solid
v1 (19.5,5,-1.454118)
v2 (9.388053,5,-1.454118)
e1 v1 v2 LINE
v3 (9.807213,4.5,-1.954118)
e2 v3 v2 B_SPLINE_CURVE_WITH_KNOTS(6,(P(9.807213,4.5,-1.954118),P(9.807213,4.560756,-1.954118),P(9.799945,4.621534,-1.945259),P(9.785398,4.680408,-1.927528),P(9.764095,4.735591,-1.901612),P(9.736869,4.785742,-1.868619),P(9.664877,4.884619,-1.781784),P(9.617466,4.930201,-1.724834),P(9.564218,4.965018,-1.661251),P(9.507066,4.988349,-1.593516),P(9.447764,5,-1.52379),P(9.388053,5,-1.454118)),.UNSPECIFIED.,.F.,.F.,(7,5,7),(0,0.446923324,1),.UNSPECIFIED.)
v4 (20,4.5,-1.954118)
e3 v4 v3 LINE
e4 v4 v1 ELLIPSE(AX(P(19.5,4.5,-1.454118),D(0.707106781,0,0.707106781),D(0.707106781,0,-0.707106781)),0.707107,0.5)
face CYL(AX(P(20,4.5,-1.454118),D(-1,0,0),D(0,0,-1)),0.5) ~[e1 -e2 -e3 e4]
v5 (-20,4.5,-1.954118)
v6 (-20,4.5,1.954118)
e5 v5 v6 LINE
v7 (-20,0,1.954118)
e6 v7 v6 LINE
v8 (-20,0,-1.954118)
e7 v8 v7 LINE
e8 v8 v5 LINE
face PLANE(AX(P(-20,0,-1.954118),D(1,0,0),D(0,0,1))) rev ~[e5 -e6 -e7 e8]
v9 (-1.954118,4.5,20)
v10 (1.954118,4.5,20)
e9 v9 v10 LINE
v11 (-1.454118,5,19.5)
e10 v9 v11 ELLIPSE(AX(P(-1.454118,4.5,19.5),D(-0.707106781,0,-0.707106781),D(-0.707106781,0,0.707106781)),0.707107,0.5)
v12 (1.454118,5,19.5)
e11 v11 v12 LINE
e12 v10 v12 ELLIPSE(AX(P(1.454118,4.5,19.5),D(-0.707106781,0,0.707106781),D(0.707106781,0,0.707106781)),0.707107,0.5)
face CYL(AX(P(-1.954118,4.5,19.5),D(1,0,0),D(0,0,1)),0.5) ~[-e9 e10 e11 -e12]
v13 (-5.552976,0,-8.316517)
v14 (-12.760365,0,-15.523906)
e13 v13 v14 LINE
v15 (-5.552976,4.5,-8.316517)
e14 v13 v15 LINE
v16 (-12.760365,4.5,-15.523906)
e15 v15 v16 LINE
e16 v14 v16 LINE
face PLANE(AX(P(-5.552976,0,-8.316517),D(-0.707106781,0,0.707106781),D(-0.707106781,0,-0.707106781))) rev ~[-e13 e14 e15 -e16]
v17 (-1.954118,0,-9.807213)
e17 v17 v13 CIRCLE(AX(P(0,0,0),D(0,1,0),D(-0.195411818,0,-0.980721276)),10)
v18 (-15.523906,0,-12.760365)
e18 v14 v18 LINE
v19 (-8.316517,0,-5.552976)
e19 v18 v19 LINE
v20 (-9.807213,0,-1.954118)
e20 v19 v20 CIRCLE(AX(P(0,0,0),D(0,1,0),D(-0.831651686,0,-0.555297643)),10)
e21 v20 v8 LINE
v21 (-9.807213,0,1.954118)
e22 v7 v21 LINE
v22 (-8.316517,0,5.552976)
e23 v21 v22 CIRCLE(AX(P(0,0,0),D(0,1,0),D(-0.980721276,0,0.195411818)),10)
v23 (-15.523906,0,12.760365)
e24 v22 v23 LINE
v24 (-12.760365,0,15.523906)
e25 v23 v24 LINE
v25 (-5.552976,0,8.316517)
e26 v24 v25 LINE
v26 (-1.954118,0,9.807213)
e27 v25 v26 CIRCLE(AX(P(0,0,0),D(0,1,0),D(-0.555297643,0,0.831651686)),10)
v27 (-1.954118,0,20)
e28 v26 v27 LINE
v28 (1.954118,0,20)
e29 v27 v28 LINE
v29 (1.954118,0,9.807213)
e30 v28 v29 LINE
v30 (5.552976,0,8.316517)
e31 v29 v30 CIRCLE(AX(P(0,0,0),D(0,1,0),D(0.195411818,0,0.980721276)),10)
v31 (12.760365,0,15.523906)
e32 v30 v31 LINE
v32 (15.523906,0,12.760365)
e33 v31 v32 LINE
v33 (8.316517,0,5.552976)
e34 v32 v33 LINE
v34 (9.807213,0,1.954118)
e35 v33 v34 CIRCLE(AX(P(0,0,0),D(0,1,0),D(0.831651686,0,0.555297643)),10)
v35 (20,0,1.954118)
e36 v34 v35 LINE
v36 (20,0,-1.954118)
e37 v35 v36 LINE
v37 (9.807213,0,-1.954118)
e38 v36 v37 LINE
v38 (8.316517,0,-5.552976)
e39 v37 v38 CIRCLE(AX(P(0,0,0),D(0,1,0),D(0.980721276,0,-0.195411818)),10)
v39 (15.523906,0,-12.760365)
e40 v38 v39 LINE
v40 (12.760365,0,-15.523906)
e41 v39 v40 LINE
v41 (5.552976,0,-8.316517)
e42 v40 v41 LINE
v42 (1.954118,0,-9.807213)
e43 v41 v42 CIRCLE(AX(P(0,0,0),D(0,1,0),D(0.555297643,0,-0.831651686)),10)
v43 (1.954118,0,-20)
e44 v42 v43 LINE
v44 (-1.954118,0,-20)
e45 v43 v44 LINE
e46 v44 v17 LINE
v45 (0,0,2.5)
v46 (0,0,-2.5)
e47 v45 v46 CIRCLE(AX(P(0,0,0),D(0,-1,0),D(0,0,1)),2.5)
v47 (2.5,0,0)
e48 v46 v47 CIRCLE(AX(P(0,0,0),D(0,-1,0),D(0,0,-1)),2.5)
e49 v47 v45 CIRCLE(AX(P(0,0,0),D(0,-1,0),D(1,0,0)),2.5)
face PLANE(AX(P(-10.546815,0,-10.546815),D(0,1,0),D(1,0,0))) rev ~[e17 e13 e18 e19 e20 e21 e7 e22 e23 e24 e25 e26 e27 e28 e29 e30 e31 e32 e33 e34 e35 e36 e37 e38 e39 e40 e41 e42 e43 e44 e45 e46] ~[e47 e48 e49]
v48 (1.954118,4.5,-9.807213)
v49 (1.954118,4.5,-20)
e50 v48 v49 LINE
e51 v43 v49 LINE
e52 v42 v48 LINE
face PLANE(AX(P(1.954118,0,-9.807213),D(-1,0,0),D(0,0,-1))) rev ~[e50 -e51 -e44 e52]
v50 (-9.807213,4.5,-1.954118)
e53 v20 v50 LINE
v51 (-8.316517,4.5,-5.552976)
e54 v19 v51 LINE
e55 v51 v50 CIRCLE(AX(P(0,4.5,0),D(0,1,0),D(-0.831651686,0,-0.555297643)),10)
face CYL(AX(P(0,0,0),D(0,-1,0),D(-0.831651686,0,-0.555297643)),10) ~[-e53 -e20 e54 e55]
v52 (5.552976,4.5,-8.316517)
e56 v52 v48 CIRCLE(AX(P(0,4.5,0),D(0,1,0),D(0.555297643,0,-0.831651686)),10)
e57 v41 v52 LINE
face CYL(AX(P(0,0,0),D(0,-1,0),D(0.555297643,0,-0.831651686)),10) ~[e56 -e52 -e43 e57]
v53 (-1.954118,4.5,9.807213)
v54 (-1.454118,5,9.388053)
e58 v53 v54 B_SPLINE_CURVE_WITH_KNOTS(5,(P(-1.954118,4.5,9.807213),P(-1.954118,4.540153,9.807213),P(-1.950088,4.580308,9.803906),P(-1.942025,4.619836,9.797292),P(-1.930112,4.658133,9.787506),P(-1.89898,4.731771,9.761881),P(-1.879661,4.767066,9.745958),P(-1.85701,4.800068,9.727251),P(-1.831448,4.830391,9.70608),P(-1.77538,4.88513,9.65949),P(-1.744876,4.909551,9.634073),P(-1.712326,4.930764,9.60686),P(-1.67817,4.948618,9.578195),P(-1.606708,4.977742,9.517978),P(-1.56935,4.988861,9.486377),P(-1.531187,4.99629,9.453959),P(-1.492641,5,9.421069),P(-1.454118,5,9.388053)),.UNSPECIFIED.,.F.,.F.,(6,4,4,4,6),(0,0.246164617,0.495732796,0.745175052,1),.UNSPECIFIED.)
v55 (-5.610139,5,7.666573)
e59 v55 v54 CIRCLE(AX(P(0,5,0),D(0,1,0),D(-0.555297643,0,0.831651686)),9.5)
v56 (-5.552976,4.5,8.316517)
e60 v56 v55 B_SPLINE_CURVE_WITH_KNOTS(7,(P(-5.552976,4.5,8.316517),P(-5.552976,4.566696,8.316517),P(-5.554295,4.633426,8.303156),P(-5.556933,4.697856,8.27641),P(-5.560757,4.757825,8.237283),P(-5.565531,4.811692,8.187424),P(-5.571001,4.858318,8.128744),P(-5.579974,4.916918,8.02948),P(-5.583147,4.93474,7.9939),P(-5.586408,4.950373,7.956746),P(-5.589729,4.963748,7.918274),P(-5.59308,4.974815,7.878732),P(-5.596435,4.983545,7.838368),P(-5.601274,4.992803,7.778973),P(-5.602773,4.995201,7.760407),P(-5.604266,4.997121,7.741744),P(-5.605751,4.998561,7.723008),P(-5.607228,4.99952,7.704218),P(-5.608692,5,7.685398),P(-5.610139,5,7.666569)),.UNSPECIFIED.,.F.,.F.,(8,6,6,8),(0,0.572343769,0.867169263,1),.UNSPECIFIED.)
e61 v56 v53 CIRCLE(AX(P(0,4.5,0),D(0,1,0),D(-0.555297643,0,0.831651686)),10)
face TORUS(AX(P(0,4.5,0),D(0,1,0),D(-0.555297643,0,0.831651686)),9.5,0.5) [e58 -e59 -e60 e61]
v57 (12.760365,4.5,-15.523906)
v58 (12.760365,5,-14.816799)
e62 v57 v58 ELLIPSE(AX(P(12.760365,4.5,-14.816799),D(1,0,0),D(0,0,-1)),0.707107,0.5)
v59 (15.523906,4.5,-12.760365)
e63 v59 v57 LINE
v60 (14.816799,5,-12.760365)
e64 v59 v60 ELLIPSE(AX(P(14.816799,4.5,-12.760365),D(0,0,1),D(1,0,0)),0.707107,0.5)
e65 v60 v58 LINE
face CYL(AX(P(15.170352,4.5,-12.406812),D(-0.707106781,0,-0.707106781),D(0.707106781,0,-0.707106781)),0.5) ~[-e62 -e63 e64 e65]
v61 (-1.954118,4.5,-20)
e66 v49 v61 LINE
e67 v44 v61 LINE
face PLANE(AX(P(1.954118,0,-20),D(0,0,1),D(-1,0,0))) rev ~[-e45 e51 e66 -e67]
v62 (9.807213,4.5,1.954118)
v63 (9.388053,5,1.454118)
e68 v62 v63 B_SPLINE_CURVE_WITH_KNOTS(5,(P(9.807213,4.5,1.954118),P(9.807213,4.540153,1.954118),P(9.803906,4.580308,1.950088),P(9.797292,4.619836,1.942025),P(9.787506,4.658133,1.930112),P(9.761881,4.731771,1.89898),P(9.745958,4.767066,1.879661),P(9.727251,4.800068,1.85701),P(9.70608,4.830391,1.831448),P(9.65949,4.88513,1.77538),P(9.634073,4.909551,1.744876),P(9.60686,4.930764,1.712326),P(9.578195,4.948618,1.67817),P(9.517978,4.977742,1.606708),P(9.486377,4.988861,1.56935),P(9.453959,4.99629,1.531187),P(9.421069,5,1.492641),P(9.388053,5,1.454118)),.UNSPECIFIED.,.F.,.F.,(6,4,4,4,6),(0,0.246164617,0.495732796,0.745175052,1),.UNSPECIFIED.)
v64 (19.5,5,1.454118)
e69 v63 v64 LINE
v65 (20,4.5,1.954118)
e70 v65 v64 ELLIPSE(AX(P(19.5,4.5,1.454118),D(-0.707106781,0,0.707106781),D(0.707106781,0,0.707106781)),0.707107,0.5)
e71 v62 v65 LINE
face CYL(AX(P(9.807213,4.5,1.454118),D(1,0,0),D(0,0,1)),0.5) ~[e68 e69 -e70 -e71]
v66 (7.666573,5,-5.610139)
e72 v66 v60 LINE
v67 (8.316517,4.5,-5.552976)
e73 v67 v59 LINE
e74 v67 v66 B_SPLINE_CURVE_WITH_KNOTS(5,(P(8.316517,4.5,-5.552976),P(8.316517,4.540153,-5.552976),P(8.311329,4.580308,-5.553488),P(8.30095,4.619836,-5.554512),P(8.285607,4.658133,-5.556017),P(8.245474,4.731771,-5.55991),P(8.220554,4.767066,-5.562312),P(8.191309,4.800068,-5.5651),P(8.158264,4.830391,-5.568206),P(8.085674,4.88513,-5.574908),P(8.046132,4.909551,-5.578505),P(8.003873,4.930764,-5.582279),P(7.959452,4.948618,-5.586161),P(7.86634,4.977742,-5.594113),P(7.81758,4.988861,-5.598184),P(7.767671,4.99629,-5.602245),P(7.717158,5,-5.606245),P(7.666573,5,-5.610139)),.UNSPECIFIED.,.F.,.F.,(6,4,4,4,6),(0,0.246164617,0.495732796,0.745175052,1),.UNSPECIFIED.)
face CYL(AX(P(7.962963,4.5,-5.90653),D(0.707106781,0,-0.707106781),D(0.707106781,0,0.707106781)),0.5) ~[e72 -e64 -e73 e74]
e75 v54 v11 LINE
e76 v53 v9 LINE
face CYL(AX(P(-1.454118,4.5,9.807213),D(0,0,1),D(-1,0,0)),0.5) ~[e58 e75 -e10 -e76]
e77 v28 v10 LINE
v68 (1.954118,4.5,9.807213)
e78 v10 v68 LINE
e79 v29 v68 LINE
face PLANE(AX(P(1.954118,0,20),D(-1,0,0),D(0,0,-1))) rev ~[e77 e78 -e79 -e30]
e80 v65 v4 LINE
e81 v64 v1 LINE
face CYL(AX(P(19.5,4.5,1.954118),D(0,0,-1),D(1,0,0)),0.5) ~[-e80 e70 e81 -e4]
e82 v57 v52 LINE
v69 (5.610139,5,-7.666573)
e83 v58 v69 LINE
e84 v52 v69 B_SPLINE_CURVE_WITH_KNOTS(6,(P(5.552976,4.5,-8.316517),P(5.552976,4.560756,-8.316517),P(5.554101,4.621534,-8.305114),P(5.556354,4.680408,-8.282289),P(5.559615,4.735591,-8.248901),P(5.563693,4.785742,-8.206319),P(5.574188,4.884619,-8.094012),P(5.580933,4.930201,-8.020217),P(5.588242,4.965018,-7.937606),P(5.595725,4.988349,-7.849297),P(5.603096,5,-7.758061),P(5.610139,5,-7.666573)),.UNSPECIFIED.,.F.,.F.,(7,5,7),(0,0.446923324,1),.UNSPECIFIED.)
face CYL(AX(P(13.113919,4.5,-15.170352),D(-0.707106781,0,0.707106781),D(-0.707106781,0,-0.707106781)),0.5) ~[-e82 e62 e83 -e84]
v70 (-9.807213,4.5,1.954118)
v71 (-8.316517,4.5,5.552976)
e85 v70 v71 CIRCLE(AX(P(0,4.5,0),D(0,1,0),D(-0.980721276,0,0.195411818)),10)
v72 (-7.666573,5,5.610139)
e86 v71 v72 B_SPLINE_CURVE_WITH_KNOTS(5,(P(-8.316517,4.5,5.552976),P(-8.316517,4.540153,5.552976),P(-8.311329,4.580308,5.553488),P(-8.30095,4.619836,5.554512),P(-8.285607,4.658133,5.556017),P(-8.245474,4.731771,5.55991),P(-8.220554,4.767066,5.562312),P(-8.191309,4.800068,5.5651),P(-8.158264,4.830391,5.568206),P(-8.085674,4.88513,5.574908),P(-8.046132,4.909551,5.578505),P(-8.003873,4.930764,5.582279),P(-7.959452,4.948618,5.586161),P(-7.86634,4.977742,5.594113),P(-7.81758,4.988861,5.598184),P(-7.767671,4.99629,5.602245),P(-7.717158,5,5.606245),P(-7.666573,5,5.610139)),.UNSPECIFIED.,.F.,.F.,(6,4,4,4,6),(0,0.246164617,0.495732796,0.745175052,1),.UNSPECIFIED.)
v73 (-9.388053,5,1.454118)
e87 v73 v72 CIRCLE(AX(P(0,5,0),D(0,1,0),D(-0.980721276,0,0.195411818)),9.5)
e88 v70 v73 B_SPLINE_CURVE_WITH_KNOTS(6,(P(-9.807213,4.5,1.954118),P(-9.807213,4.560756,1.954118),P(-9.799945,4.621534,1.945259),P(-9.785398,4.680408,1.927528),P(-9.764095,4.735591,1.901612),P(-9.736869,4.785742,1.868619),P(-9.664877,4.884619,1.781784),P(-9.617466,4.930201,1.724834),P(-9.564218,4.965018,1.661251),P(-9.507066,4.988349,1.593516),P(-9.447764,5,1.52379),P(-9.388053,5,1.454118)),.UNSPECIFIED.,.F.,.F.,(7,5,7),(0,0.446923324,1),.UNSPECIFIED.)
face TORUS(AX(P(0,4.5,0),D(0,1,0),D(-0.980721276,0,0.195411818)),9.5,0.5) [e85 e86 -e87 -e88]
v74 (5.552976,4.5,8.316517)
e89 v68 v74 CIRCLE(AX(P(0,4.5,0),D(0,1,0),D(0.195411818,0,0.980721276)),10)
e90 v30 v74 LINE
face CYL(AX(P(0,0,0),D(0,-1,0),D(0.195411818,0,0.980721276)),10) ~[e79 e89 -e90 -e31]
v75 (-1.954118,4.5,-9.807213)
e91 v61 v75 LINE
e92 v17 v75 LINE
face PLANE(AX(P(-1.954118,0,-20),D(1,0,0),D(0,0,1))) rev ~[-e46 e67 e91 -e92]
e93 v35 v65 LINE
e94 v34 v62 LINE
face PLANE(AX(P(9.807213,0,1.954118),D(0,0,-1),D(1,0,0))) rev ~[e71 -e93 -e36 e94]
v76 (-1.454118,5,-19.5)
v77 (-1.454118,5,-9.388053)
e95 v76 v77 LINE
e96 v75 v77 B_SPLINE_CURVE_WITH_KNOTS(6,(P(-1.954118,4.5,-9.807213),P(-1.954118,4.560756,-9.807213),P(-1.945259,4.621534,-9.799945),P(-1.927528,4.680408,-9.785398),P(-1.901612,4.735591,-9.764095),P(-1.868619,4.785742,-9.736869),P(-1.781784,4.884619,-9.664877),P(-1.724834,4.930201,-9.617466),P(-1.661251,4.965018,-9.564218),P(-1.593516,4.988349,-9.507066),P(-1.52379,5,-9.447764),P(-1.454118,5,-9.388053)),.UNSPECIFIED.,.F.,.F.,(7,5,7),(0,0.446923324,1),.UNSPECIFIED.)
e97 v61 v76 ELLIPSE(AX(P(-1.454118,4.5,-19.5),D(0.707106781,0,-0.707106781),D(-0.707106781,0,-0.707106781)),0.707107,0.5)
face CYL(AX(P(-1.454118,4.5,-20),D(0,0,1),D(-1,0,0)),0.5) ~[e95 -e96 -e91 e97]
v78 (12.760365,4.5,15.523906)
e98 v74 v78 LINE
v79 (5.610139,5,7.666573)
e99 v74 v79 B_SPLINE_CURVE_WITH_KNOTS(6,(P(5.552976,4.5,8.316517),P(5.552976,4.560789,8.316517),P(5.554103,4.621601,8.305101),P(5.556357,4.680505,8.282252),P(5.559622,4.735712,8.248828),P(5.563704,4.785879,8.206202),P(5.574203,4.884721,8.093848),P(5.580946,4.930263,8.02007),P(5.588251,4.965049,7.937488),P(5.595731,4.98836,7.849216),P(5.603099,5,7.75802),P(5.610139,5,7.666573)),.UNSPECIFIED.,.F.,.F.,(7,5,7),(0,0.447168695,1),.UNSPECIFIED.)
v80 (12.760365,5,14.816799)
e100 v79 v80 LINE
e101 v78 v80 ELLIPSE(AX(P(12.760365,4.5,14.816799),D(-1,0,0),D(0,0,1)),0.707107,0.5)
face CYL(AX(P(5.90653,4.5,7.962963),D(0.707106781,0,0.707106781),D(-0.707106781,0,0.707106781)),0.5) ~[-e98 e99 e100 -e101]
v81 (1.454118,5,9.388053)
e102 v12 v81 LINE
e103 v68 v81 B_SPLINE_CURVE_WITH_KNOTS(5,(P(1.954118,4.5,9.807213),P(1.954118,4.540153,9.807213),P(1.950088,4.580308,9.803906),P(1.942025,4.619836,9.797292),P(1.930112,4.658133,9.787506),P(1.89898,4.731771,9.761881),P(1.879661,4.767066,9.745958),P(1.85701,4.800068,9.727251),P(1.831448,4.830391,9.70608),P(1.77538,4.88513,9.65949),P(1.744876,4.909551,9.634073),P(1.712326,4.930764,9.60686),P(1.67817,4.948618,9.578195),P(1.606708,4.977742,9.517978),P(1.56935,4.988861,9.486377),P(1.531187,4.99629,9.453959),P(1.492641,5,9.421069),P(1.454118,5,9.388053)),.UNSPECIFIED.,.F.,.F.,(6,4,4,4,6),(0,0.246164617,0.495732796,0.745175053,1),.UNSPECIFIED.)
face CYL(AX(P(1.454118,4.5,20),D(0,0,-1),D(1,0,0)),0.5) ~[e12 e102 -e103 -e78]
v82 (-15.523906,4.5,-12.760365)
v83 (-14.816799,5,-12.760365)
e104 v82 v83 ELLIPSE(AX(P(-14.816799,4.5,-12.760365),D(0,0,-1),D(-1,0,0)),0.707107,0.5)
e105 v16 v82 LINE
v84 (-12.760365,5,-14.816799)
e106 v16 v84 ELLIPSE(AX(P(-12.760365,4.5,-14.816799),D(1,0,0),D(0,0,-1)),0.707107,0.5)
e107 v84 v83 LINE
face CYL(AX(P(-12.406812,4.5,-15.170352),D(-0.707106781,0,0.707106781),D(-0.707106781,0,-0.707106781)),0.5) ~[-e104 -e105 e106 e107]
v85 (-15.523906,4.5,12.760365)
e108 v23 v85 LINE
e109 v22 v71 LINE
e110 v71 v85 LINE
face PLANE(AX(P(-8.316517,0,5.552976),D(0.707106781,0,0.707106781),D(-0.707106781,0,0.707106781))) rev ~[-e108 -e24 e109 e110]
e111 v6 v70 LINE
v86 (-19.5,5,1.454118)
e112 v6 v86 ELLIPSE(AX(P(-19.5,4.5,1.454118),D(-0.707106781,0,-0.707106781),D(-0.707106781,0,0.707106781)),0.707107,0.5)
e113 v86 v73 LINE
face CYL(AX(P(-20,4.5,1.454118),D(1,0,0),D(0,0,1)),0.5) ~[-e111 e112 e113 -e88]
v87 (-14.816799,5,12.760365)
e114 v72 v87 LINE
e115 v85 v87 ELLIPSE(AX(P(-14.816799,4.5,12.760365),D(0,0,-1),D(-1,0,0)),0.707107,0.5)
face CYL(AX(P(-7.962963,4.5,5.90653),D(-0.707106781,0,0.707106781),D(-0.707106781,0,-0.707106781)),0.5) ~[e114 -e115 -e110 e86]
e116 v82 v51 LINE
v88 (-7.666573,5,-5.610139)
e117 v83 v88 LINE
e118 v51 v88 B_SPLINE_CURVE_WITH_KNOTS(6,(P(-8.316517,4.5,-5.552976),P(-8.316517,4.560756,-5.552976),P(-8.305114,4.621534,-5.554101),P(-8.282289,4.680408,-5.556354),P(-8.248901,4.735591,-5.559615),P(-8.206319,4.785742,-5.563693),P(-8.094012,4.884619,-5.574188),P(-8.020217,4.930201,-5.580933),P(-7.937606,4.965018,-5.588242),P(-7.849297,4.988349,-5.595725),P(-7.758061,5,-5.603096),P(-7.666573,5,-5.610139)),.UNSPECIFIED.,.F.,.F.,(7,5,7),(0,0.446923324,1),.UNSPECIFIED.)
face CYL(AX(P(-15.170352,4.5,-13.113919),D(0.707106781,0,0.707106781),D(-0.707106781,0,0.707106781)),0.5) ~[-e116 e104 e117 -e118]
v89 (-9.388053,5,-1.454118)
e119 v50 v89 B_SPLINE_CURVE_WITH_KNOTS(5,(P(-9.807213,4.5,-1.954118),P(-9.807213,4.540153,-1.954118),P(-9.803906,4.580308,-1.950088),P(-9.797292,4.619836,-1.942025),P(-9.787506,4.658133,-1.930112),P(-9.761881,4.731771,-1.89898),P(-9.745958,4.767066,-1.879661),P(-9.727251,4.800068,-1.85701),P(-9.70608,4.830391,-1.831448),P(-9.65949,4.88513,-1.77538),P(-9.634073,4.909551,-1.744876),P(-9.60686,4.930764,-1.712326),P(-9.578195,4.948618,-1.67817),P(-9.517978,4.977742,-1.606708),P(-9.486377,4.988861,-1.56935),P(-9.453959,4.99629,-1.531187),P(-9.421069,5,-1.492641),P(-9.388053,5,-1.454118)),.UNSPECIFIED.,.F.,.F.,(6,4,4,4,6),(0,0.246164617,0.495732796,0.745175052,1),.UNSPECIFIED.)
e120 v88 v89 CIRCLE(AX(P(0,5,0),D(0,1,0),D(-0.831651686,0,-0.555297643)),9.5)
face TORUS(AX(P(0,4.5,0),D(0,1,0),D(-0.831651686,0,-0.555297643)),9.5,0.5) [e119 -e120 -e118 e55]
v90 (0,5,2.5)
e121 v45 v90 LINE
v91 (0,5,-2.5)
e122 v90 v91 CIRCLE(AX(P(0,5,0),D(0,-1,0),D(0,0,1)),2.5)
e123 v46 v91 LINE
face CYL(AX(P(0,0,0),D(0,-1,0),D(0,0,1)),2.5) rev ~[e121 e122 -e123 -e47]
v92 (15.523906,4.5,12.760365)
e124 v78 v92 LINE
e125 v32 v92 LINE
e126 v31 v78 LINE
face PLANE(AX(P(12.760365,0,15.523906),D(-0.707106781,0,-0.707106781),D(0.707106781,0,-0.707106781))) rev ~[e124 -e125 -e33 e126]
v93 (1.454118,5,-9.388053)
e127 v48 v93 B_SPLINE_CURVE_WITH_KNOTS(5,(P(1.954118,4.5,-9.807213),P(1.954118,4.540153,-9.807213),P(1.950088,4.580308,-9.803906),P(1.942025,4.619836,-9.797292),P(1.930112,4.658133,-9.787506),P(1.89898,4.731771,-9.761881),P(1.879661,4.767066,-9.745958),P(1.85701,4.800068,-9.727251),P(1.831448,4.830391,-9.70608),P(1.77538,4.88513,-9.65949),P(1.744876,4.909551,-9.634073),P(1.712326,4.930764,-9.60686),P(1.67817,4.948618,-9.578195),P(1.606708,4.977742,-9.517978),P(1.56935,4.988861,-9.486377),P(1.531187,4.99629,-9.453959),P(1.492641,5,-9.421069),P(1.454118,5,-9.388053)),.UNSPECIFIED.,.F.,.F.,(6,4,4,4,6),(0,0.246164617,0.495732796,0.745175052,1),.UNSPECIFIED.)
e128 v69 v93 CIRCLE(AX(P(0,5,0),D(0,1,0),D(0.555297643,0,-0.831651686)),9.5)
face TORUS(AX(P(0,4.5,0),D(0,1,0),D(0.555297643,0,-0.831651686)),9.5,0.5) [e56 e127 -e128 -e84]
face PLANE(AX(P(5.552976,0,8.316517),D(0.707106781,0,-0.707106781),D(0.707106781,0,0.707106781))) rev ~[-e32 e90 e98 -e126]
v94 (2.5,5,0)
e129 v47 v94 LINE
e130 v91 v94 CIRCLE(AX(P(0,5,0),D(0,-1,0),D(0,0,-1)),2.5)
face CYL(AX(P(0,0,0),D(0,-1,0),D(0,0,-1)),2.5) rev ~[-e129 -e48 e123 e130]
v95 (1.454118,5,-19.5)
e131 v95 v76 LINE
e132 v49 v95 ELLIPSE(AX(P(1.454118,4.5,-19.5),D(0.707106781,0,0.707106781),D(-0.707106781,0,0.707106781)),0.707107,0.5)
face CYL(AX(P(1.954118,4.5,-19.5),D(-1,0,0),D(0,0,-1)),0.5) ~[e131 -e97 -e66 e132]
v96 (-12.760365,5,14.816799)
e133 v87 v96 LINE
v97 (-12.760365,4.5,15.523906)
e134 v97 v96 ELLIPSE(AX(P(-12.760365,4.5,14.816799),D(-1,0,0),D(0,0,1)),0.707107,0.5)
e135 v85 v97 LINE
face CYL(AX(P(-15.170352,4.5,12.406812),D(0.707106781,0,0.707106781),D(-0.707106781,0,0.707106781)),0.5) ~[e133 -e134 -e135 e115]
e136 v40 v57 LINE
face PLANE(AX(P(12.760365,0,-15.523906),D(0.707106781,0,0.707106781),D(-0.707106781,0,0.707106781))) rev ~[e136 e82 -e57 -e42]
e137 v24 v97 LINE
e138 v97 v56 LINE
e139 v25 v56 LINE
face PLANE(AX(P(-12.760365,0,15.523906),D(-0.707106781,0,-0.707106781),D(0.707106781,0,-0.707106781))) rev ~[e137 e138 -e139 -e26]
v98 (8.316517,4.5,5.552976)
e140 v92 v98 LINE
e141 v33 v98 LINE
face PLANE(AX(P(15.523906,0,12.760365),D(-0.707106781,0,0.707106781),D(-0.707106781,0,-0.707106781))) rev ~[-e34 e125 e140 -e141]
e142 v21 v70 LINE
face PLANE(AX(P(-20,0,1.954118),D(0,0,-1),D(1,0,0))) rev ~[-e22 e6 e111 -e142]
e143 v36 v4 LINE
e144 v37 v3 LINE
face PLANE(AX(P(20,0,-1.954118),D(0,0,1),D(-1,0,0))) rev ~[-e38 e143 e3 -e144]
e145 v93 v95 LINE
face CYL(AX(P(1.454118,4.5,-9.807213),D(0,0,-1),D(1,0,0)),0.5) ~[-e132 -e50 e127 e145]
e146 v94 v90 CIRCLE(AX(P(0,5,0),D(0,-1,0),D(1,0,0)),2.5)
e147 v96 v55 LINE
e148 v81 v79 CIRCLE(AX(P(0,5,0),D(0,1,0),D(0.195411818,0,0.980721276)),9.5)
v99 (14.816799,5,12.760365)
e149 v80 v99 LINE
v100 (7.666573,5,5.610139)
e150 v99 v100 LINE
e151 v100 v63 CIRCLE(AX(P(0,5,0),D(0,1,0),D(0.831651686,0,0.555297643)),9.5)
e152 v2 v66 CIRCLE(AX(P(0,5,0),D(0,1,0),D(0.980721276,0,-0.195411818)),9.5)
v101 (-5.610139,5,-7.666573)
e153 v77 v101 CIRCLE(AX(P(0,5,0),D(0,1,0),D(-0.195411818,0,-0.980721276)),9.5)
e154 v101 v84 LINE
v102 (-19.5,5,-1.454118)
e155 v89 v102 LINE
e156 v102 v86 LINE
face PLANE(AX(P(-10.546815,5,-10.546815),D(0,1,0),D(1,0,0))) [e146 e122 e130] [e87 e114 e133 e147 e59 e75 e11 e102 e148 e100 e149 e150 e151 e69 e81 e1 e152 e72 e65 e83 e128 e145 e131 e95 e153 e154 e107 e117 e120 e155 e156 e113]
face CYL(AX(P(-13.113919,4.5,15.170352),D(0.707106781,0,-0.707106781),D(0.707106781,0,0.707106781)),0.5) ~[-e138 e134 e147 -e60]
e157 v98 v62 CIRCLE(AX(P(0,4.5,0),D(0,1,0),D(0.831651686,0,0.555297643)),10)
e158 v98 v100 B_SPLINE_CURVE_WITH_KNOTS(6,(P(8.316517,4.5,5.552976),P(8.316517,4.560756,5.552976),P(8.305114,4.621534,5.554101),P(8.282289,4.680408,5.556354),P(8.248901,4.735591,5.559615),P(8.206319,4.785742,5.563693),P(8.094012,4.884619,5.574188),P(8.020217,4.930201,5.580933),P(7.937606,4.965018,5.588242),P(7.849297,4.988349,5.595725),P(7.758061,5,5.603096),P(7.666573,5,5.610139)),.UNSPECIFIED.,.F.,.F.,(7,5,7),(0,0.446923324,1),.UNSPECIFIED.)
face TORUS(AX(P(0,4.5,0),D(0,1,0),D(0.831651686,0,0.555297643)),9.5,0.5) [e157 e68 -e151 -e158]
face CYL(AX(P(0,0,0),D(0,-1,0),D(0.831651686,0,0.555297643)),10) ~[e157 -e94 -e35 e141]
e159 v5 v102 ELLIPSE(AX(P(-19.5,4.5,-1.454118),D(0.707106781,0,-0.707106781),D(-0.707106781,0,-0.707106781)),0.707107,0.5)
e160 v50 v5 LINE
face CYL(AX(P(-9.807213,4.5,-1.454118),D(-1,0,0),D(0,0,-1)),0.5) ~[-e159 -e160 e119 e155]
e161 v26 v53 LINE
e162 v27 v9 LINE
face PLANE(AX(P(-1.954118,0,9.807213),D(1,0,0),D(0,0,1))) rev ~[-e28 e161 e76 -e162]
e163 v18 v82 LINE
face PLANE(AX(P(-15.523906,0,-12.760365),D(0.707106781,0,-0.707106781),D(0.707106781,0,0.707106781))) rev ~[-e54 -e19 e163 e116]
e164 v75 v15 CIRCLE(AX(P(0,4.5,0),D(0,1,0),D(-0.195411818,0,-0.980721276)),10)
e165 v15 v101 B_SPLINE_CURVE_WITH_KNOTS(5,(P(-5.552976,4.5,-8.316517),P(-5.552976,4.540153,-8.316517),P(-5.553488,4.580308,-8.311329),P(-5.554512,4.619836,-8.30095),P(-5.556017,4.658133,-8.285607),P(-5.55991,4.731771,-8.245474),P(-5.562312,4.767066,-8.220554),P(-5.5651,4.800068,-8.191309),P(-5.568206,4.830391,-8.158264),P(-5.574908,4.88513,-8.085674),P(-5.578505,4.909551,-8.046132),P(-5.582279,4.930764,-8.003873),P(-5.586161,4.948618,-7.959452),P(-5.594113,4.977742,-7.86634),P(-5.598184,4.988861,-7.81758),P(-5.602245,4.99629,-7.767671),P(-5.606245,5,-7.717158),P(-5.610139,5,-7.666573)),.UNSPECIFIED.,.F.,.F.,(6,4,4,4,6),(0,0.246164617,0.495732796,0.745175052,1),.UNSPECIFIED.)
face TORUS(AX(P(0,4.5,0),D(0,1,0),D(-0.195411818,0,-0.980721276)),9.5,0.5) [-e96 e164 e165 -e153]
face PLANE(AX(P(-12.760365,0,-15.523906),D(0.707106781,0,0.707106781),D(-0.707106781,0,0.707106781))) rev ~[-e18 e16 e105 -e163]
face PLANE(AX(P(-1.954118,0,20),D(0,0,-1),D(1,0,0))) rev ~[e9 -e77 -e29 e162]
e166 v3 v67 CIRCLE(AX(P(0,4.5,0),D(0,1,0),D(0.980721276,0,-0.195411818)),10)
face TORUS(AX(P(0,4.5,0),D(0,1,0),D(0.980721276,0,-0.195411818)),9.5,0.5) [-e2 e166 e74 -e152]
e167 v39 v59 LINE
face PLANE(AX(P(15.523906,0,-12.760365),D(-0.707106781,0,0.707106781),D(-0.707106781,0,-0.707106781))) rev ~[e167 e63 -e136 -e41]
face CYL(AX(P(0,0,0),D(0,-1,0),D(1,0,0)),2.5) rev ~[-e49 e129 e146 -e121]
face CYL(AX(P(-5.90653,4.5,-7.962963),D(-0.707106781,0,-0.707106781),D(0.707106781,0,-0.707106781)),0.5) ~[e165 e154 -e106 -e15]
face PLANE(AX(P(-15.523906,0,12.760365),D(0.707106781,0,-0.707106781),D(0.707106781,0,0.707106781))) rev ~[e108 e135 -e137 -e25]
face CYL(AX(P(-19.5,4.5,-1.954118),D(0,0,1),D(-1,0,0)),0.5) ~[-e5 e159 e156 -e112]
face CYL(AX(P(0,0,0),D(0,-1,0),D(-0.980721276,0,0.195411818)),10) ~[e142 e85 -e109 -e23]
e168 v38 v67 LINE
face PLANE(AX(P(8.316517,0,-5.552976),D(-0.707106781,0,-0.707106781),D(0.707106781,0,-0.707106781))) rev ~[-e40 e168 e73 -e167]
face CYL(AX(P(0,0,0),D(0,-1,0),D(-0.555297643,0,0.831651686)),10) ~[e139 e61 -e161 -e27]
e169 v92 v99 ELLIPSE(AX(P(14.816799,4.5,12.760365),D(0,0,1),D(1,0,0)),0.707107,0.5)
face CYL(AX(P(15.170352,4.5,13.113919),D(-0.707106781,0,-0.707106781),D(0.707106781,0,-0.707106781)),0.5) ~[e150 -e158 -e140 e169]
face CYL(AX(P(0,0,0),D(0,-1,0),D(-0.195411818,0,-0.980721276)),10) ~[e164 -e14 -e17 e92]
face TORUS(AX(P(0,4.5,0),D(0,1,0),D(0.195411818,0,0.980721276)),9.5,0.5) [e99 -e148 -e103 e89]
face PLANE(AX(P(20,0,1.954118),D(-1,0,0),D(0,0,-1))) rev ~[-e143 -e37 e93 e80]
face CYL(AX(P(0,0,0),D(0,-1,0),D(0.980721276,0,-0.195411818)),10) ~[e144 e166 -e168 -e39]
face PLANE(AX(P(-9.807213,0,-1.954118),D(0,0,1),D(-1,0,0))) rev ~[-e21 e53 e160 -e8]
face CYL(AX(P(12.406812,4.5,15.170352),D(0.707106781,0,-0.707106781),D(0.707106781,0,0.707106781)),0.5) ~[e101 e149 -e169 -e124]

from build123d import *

# Parameters (mm, degrees)
EXTRUDE_1_DEPTH = 5
FILLET_1_R      = 0.5


with BuildPart() as part:
    # 草图1 → 凸台-拉伸1 (new body)
    with BuildSketch(Plane(origin=(0, 0, 0), x_dir=(1, 0, 0), z_dir=(0, 1, 0))):
        with BuildLine():
            ThreePointArc((-8.316516862, 5.552976435), (-7.071067812, 7.071067812), (-5.552976435, 8.316516862))
            Line((-5.552976435, 8.316516862), (-12.76036541, 15.523905838))
            Line((-12.76036541, 15.523905838), (-15.523905838, 12.76036541))
            Line((-15.523905838, 12.76036541), (-8.316516862, 5.552976435))
        make_face()
        with BuildLine():
            Line((-20, -1.954118176), (-9.807212762, -1.954118176))
            ThreePointArc((-9.807212762, -1.954118176), (-10, 0), (-9.807212762, 1.954118176))
            Line((-9.807212762, 1.954118176), (-20, 1.954118176))
            Line((-20, 1.954118176), (-20, -1.954118176))
        make_face()
        with BuildLine():
            Line((-12.76036541, -15.523905838), (-5.552976435, -8.316516862))
            ThreePointArc((-5.552976435, -8.316516862), (-7.071067812, -7.071067812), (-8.316516862, -5.552976435))
            Line((-8.316516862, -5.552976435), (-15.523905838, -12.76036541))
            Line((-15.523905838, -12.76036541), (-12.76036541, -15.523905838))
        make_face()
        with BuildLine():
            ThreePointArc((-1.954118176, -9.807212762), (-0.981802522, -9.951686481), (0, -10))
            Line((0, -10), (0, -2.5))
            ThreePointArc((0, -2.5), (-2.5, 0), (0, 2.5))
            Line((0, 2.5), (0, 10))
            ThreePointArc((0, 10), (-0.981802522, 9.951686481), (-1.954118176, 9.807212762))
            ThreePointArc((-1.954118176, 9.807212762), (-3.826834324, 9.238795325), (-5.552976435, 8.316516862))
            ThreePointArc((-5.552976435, 8.316516862), (-7.071067812, 7.071067812), (-8.316516862, 5.552976435))
            ThreePointArc((-8.316516862, 5.552976435), (-9.238795325, 3.826834324), (-9.807212762, 1.954118176))
            ThreePointArc((-9.807212762, 1.954118176), (-10, 0), (-9.807212762, -1.954118176))
            ThreePointArc((-9.807212762, -1.954118176), (-9.238795325, -3.826834324), (-8.316516862, -5.552976435))
            ThreePointArc((-8.316516862, -5.552976435), (-7.071067812, -7.071067812), (-5.552976435, -8.316516862))
            ThreePointArc((-5.552976435, -8.316516862), (-3.826834324, -9.238795325), (-1.954118176, -9.807212762))
        make_face()
        with BuildLine():
            Line((0, -2.5), (0, -10))
            ThreePointArc((0, -10), (0.981802522, -9.951686481), (1.954118176, -9.807212762))
            ThreePointArc((1.954118176, -9.807212762), (3.826834324, -9.238795325), (5.552976435, -8.316516862))
            ThreePointArc((5.552976435, -8.316516862), (7.071067812, -7.071067812), (8.316516862, -5.552976435))
            ThreePointArc((8.316516862, -5.552976435), (9.238795325, -3.826834324), (9.807212762, -1.954118176))
            ThreePointArc((9.807212762, -1.954118176), (9.951686481, -0.981802522), (10, 0))
            ThreePointArc((10, 0), (9.951686481, 0.981802522), (9.807212762, 1.954118176))
            ThreePointArc((9.807212762, 1.954118176), (9.238795325, 3.826834324), (8.316516862, 5.552976435))
            ThreePointArc((8.316516862, 5.552976435), (7.071067812, 7.071067812), (5.552976435, 8.316516862))
            ThreePointArc((5.552976435, 8.316516862), (3.826834324, 9.238795325), (1.954118176, 9.807212762))
            ThreePointArc((1.954118176, 9.807212762), (0.981802522, 9.951686481), (0, 10))
            Line((0, 10), (0, 2.5))
            ThreePointArc((0, 2.5), (1.767766953, 1.767766953), (2.5, 0))
            ThreePointArc((2.5, 0), (1.767766953, -1.767766953), (0, -2.5))
        make_face()
        with BuildLine():
            Line((0, 20), (0, 10))
            ThreePointArc((0, 10), (0.981802522, 9.951686481), (1.954118176, 9.807212762))
            Line((1.954118176, 9.807212762), (1.954118176, 20))
            Line((1.954118176, 20), (0, 20))
        make_face()
        with BuildLine():
            ThreePointArc((-1.954118176, 9.807212762), (-0.981802522, 9.951686481), (0, 10))
            Line((0, 10), (0, 20))
            Line((0, 20), (-1.954118176, 20))
            Line((-1.954118176, 20), (-1.954118176, 9.807212762))
        make_face()
        with BuildLine():
            Line((12.76036541, 15.523905838), (5.552976435, 8.316516862))
            ThreePointArc((5.552976435, 8.316516862), (7.071067812, 7.071067812), (8.316516862, 5.552976435))
            Line((8.316516862, 5.552976435), (15.523905838, 12.76036541))
            Line((15.523905838, 12.76036541), (12.76036541, 15.523905838))
        make_face()
        with BuildLine():
            ThreePointArc((10, 0), (9.951686481, -0.981802522), (9.807212762, -1.954118176))
            Line((9.807212762, -1.954118176), (20, -1.954118176))
            Line((20, -1.954118176), (20, 1.954118176))
            Line((20, 1.954118176), (9.807212762, 1.954118176))
            ThreePointArc((9.807212762, 1.954118176), (9.951686481, 0.981802522), (10, 0))
        make_face()
        with BuildLine():
            ThreePointArc((8.316516862, -5.552976435), (7.071067812, -7.071067812), (5.552976435, -8.316516862))
            Line((5.552976435, -8.316516862), (12.76036541, -15.523905838))
            Line((12.76036541, -15.523905838), (15.523905838, -12.76036541))
            Line((15.523905838, -12.76036541), (8.316516862, -5.552976435))
        make_face()
        with BuildLine():
            Line((-1.954118176, -20), (0, -20))
            Line((0, -20), (0, -10))
            ThreePointArc((0, -10), (-0.981802522, -9.951686481), (-1.954118176, -9.807212762))
            Line((-1.954118176, -9.807212762), (-1.954118176, -20))
        make_face()
        with BuildLine():
            Line((0, -10), (0, -20))
            Line((0, -20), (1.954118176, -20))
            Line((1.954118176, -20), (1.954118176, -9.807212762))
            ThreePointArc((1.954118176, -9.807212762), (0.981802522, -9.951686481), (0, -10))
        make_face()
    extrude(amount=EXTRUDE_1_DEPTH)

    # 圆角1
    fillet_1_edges = [part.edges().sort_by_distance(p)[0] for p in [
        (9.156670922, 5, 11.92021135),
        (14.142135624, 5, 14.142135624),
        (0, 5, -20),
        (11.92021135, 5, 9.156670922),
        (9.238795325, 5, 3.826834324),
        (14.903606381, 5, 1.954118176),
        (20, 5, 0),
        (14.903606381, 5, -1.954118176),
        (9.238795325, 5, -3.826834324),
        (11.92021135, 5, -9.156670922),
        (14.142135624, 5, -14.142135624),
        (9.156670922, 5, -11.92021135),
        (3.826834324, 5, -9.238795325),
        (-1.954118176, 5, -14.903606381),
        (-3.826834324, 5, -9.238795325),
        (-9.156670922, 5, -11.92021135),
        (-14.142135624, 5, -14.142135624),
        (-11.92021135, 5, -9.156670922),
        (-9.238795325, 5, -3.826834324),
        (-14.903606381, 5, -1.954118176),
        (-20, 5, 0),
        (-14.903606381, 5, 1.954118176),
        (1.954118176, 5, -14.903606381),
        (-9.238795325, 5, 3.826834324),
        (-11.92021135, 5, 9.156670922),
        (-14.142135624, 5, 14.142135624),
        (-9.156670922, 5, 11.92021135),
        (-3.826834324, 5, 9.238795325),
        (-1.954118176, 5, 14.903606381),
        (0, 5, 20),
        (1.954118176, 5, 14.903606381),
        (3.826834324, 5, 9.238795325),
    ]]
    fillet(fillet_1_edges, radius=FILLET_1_R)


solid = part.part
